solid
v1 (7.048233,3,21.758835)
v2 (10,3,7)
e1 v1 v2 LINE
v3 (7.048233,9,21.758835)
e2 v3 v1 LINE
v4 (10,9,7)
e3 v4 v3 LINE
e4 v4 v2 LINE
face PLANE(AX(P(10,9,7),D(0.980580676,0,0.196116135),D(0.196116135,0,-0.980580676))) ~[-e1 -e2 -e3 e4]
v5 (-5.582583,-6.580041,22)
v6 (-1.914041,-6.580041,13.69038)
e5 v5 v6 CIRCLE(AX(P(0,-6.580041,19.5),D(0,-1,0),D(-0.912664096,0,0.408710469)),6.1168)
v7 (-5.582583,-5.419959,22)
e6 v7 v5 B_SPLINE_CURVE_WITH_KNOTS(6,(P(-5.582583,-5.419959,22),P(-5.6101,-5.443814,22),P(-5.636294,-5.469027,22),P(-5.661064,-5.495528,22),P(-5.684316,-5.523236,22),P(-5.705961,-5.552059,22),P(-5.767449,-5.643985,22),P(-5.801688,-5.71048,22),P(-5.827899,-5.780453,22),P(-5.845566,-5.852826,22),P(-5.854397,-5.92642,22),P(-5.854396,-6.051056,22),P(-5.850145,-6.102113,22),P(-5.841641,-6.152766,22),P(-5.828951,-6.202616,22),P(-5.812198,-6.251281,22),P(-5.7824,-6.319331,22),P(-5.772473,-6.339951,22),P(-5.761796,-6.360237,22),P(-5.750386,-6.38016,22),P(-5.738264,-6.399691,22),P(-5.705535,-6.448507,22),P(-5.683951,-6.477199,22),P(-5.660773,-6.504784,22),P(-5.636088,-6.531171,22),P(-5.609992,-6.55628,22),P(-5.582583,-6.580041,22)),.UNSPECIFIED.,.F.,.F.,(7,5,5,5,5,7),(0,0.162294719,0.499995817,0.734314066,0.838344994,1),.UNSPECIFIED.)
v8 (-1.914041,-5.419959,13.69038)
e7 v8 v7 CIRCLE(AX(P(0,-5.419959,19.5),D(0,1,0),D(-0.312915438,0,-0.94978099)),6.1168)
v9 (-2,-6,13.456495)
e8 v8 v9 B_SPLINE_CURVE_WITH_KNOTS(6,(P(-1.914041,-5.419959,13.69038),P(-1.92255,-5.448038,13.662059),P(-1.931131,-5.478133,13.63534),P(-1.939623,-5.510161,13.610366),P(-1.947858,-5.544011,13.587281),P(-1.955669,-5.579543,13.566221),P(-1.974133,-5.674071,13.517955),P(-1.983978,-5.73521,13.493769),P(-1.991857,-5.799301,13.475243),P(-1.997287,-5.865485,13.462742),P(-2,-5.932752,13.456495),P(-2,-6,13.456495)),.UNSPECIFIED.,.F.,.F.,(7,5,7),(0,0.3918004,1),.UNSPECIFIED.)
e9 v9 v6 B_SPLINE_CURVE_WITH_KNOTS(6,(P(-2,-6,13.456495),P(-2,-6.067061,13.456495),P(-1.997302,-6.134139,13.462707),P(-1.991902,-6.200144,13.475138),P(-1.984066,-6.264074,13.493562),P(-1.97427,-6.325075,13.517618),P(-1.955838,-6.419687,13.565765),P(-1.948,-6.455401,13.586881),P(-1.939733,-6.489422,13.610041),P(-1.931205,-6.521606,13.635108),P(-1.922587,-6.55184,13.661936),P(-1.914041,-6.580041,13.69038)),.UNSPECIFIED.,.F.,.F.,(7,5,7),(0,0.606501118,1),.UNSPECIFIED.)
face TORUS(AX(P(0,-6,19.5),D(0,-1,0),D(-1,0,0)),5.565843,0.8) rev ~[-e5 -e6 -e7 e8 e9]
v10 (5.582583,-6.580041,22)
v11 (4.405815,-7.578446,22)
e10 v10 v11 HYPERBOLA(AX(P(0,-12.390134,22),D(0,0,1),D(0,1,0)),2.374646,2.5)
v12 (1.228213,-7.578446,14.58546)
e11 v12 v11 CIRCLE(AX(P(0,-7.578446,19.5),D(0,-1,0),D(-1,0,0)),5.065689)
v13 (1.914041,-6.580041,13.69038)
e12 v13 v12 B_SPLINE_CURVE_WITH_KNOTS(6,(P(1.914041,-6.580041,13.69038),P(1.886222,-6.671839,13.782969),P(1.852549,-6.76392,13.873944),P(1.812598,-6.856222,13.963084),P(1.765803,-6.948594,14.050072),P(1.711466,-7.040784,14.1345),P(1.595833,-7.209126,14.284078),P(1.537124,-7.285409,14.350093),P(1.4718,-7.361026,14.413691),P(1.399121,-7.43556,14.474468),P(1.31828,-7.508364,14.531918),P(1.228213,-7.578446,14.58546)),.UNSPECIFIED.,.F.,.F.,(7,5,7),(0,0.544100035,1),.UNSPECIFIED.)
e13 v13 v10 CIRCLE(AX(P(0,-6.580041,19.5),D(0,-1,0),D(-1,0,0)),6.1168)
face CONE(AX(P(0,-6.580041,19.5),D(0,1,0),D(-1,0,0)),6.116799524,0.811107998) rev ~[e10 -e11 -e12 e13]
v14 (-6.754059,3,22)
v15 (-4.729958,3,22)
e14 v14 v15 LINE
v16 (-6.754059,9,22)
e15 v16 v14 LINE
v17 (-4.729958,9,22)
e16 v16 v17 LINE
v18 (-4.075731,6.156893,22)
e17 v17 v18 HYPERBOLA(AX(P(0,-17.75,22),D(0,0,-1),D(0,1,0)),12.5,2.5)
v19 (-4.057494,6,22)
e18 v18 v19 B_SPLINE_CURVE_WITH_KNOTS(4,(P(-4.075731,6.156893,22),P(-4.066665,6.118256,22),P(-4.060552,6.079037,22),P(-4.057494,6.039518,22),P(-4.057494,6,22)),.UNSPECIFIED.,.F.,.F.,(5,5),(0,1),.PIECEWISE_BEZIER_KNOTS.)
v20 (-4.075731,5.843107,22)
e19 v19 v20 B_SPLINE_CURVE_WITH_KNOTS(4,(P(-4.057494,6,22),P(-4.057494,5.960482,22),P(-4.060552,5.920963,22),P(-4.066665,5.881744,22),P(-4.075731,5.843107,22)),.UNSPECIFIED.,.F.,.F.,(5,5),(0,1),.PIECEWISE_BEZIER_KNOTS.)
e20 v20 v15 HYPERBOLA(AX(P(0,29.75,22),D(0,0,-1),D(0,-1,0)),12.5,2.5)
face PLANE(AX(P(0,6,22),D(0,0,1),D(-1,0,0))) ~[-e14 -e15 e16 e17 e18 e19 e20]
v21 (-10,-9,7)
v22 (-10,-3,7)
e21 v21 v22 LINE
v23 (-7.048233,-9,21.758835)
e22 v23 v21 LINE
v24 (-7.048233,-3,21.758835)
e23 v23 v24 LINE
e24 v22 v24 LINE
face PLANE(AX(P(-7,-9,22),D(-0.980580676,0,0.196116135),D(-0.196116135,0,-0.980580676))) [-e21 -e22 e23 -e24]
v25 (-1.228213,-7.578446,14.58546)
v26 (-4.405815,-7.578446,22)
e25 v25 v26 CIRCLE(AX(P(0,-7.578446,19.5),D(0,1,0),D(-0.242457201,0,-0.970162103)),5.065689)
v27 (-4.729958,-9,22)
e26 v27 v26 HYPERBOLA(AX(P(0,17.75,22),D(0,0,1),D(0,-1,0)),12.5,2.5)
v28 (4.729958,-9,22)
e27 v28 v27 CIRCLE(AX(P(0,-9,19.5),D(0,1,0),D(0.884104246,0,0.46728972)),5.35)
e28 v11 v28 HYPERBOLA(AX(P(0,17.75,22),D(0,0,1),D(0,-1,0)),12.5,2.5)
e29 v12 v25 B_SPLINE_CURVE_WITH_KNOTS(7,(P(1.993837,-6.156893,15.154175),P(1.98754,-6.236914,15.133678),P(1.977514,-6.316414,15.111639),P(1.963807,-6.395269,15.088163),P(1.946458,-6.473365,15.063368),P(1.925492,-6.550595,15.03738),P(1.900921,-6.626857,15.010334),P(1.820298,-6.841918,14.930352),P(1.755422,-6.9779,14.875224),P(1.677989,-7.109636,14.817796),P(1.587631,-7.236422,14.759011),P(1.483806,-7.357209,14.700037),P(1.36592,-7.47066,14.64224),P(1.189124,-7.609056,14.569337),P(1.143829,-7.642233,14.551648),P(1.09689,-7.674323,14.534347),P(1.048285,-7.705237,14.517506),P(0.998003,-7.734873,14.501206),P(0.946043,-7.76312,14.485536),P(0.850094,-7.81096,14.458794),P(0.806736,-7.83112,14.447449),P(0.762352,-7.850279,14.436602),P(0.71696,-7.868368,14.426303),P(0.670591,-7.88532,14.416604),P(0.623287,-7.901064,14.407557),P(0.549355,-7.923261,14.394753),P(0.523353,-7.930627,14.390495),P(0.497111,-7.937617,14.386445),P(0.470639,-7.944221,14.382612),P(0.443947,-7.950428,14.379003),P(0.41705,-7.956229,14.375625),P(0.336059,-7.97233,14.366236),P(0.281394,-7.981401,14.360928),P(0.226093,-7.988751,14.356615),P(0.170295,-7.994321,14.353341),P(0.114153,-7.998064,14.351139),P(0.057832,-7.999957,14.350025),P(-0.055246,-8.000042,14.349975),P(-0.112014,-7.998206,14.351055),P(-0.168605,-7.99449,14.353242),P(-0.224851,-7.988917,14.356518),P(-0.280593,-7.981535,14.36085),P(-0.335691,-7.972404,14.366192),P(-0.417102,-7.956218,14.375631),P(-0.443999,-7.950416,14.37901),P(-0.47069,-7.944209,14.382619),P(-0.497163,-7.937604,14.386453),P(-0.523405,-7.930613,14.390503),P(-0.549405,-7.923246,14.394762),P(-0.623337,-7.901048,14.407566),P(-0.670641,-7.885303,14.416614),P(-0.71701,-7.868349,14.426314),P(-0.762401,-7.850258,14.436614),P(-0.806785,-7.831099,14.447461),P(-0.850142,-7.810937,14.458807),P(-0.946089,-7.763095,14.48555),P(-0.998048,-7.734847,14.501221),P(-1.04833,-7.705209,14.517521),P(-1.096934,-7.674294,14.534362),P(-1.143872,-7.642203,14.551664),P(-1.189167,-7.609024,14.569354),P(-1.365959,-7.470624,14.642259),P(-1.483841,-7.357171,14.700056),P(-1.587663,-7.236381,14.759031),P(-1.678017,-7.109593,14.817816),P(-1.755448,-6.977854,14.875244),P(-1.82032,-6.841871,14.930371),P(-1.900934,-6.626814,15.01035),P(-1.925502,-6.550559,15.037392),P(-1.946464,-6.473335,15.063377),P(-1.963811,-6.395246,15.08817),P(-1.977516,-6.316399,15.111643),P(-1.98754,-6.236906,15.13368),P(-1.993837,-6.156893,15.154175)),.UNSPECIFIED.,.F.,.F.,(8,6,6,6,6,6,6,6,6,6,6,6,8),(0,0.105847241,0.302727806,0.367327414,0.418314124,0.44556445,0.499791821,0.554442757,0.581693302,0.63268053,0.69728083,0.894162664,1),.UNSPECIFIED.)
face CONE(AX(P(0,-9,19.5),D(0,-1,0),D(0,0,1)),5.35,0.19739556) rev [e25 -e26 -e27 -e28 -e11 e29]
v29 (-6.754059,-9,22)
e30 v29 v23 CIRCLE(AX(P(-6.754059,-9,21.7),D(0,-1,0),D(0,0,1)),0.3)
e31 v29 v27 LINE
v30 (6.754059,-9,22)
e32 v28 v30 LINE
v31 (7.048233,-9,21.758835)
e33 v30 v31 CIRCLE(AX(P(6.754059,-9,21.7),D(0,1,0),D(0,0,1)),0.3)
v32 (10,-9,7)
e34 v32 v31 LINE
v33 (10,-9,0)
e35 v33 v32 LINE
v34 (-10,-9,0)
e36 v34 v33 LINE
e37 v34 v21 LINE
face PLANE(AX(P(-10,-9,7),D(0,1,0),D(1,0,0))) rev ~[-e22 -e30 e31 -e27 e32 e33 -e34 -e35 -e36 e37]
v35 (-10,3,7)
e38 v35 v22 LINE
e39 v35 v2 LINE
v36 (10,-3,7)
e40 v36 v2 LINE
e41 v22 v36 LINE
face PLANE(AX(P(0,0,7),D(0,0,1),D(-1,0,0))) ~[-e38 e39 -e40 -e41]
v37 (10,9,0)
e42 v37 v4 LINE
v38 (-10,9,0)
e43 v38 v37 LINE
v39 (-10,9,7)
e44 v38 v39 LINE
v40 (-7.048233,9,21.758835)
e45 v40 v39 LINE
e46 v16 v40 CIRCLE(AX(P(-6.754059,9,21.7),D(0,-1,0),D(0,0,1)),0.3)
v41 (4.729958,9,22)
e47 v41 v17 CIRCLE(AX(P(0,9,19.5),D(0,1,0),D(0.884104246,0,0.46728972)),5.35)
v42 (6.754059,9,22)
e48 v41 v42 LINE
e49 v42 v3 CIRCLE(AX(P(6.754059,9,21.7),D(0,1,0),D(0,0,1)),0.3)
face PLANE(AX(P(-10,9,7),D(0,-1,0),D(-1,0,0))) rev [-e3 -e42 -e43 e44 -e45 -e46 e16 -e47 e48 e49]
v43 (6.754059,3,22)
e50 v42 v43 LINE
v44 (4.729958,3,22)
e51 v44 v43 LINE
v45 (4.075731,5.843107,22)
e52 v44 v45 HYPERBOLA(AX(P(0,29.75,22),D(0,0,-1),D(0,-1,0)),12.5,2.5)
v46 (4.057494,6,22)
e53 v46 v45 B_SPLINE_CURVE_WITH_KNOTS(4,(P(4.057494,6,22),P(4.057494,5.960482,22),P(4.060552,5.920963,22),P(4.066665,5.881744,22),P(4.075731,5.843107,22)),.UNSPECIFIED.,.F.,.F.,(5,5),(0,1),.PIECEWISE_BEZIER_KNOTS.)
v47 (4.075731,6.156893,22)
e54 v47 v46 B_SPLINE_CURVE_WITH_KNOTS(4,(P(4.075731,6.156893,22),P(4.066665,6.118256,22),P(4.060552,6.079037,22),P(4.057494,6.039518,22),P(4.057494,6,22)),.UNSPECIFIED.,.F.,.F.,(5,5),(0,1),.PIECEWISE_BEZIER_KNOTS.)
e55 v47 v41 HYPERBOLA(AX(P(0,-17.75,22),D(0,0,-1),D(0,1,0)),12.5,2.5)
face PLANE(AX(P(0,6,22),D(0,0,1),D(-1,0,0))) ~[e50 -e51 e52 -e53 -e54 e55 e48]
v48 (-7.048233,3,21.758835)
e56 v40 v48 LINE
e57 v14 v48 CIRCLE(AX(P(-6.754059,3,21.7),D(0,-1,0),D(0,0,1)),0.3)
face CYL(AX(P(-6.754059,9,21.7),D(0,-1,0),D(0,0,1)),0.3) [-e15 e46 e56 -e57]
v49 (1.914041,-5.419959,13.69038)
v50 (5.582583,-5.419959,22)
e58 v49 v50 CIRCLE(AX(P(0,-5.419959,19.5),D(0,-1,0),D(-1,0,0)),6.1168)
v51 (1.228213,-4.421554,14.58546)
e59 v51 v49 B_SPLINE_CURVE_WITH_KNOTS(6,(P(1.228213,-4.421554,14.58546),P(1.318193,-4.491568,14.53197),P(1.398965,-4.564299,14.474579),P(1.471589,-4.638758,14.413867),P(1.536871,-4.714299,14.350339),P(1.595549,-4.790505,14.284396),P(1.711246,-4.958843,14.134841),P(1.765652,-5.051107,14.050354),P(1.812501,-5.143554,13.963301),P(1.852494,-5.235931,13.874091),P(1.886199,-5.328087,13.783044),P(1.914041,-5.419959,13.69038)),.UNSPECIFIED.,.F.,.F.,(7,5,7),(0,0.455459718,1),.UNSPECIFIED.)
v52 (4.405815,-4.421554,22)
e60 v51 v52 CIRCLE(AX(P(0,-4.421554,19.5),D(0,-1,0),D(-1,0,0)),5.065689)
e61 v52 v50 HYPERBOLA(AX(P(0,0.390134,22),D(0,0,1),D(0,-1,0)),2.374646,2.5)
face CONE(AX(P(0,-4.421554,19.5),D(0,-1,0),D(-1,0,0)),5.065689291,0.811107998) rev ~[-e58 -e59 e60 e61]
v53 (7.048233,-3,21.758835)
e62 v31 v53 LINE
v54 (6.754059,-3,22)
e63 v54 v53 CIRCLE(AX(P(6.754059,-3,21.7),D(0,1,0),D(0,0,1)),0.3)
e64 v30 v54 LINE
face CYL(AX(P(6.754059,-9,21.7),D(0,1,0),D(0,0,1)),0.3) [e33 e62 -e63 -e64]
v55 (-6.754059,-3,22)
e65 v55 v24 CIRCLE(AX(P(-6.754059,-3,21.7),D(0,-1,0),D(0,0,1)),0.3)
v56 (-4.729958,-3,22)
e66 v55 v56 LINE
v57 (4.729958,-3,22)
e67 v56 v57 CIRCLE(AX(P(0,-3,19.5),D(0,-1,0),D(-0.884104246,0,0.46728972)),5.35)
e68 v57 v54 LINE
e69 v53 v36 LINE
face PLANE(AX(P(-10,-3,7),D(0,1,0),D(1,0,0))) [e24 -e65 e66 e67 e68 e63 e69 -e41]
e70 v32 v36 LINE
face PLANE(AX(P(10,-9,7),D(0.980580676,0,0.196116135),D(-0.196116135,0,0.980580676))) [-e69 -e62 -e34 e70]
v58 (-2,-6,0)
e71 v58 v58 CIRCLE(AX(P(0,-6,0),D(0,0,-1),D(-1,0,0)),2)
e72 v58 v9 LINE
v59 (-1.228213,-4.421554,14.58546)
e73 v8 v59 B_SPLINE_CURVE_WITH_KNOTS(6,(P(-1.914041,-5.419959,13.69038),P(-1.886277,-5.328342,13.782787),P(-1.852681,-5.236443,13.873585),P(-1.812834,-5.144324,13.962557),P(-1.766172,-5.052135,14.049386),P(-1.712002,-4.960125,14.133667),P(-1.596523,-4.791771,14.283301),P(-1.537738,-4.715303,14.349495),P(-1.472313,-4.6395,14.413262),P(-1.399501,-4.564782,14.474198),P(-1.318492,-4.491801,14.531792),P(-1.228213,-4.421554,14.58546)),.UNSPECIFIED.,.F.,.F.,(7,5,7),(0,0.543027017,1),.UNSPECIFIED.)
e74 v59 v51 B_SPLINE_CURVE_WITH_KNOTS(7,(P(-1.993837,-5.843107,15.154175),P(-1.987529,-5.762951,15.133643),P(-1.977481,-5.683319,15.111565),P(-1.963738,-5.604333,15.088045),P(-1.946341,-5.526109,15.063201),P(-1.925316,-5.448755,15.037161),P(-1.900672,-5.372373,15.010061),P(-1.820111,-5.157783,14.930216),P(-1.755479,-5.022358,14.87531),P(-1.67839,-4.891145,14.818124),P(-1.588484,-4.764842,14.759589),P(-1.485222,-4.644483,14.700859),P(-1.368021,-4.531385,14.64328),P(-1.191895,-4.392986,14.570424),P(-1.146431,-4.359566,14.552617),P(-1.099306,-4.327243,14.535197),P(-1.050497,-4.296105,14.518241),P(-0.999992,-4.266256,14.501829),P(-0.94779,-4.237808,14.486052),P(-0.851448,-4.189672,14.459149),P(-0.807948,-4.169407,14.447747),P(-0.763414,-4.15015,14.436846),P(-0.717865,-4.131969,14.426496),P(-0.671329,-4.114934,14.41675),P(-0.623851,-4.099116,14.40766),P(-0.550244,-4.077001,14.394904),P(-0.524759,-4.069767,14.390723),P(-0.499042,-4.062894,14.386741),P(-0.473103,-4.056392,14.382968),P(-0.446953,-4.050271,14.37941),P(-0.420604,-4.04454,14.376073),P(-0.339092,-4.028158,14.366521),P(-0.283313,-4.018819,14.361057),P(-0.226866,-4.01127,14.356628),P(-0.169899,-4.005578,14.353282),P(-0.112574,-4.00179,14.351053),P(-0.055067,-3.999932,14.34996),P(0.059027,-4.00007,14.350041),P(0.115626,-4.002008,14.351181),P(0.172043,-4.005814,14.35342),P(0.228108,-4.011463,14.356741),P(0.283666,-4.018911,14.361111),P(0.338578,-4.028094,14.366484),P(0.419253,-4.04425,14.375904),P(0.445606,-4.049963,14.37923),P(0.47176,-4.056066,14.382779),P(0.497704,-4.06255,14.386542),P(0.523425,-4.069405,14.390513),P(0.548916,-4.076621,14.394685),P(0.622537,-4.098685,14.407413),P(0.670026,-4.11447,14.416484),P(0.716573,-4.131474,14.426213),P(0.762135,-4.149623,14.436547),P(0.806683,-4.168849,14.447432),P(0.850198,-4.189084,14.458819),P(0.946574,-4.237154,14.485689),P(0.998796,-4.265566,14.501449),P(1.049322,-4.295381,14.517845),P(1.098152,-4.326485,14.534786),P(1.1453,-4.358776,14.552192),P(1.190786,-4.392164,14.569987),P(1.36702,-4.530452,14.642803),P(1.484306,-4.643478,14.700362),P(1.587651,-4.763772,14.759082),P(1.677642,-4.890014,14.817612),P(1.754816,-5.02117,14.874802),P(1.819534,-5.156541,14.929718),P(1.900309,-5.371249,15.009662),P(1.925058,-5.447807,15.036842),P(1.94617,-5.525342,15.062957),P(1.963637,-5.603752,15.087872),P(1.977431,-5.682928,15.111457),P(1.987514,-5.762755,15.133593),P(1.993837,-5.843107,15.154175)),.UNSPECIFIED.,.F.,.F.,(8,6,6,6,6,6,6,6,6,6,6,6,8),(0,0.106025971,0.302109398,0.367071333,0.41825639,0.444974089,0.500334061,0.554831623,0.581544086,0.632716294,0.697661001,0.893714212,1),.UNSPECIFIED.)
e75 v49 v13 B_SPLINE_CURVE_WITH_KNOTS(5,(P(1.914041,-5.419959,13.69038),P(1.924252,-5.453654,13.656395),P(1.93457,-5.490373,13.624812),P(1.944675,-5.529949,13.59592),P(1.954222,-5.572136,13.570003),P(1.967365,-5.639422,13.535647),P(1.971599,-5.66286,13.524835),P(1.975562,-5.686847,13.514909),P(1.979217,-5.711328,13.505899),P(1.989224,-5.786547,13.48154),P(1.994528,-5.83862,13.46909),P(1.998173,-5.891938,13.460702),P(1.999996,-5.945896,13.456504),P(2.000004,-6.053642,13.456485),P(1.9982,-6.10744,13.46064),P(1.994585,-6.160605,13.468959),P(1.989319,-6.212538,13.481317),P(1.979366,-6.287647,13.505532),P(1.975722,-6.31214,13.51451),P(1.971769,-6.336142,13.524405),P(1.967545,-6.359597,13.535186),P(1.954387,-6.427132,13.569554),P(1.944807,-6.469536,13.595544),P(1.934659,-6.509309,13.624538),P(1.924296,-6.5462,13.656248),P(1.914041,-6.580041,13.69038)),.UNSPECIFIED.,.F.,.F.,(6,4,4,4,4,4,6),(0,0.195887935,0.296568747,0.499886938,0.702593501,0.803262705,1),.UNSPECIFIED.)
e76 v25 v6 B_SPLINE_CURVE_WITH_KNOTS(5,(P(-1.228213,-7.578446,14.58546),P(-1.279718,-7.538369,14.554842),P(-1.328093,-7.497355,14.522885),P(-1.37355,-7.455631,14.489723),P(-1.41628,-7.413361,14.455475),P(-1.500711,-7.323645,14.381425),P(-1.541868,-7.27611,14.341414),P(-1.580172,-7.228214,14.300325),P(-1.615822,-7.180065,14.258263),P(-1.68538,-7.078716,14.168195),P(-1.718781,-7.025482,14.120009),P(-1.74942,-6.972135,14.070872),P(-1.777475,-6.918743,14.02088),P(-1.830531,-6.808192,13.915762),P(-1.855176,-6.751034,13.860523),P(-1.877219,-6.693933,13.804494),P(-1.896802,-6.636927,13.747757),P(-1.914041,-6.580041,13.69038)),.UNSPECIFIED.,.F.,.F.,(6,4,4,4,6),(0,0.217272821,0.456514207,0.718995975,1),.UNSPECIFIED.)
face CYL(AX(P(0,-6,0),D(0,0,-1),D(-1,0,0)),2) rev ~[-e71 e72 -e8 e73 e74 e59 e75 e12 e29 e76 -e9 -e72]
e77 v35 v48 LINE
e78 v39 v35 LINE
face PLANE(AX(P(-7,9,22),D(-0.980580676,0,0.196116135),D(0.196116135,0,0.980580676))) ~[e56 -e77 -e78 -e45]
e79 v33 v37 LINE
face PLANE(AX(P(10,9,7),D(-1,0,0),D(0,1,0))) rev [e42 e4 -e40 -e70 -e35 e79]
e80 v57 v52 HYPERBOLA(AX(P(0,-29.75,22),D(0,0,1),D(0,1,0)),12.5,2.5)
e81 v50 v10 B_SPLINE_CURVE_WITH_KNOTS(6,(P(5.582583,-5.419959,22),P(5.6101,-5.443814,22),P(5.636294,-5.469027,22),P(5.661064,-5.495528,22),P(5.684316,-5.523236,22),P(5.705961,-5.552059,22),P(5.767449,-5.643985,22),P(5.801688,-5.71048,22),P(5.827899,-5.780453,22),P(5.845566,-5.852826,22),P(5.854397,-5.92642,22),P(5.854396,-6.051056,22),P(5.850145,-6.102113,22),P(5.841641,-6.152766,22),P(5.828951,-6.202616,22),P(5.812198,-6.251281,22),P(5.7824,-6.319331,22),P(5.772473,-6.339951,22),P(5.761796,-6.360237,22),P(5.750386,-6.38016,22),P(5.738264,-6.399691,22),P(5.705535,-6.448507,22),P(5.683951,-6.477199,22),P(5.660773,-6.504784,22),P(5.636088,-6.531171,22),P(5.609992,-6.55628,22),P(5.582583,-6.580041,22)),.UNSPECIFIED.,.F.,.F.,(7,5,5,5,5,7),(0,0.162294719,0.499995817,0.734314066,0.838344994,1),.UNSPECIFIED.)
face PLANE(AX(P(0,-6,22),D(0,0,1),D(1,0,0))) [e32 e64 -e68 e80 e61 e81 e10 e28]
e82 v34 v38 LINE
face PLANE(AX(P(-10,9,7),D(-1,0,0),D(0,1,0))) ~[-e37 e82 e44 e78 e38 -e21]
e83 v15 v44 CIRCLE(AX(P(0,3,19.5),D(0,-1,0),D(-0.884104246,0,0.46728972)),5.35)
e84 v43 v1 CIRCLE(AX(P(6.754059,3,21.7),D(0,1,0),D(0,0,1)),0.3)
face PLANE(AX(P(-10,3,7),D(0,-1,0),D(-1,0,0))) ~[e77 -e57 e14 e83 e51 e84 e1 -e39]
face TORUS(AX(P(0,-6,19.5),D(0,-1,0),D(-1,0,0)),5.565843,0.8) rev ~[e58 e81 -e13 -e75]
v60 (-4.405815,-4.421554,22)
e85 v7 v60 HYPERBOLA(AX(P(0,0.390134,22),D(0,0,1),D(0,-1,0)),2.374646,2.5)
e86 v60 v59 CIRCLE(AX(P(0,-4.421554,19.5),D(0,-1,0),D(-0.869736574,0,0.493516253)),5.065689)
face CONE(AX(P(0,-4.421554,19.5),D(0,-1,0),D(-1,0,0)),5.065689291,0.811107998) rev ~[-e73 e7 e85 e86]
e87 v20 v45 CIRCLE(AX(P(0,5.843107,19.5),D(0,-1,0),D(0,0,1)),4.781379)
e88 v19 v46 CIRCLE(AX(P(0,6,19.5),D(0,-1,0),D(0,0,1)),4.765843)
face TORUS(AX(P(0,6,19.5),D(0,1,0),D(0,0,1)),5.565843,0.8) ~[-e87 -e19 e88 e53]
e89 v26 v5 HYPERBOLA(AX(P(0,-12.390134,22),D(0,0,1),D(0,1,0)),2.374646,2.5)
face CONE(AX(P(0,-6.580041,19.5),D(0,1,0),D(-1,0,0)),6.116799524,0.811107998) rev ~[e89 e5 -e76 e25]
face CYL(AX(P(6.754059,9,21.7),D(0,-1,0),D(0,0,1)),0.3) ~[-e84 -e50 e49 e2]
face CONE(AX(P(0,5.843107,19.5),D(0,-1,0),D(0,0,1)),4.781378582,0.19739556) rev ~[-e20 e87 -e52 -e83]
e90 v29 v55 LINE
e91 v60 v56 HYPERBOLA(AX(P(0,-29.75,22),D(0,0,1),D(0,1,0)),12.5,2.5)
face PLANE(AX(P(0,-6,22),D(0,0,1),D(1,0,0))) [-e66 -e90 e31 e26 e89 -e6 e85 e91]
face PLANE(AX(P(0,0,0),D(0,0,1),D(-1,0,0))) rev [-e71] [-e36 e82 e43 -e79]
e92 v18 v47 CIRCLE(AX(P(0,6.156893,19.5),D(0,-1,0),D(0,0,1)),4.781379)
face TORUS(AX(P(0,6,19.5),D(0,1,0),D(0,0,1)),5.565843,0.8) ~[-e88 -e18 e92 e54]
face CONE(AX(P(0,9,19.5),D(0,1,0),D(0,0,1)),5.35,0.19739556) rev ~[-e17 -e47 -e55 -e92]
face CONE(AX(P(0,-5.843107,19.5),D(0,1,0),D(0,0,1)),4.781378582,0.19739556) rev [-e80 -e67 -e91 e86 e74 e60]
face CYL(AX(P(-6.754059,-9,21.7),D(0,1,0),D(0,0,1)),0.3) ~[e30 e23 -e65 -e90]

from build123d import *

# Parameters (mm, degrees)
SKETCH1_W               = 20
SKETCH1_H               = 18
BOSS_EXTRUDE1_DEPTH     = 7
SKETCH2_W               = 20
SKETCH2_H               = 6
BOSS_EXTRUDE2_DEPTH     = 15
CUT_EXTRUDE1_REACH      = 32.133
SKETCH3_R               = 5.35
SKETCH5_W               = 14
SKETCH5_H               = 6
CUT_EXTRUDE2_DEPTH      = 26.787593916
FILLET1_R               = 0.3
SKETCH6_W               = 20
SKETCH6_H               = 9
CUT_EXTRUDE3_DEPTH      = 21.149441799
CUT_EXTRUDE3_DEPTH_BACK = 21.149441799
SKETCH7_R               = 2
CUT_EXTRUDE4_DEPTH      = 26.787594037
CUT_EXTRUDE4_DEPTH_BACK = 26.787594037


with BuildPart() as part:
    # Sketch1 → Boss-Extrude1 (new body)
    with BuildSketch(Plane.XY):
        Rectangle(SKETCH1_W, SKETCH1_H)
    extrude(amount=BOSS_EXTRUDE1_DEPTH)

    # Sketch2 → Boss-Extrude2 (add)
    with BuildSketch(Plane.XY.offset(7)):
        with Locations((0, -6)):
            Rectangle(SKETCH2_W, SKETCH2_H)
        with Locations((0, 6)):
            Rectangle(SKETCH2_W, SKETCH2_H)
    extrude(amount=BOSS_EXTRUDE2_DEPTH)

    # Cut-Extrude1: up to this face of the body (flat: up to its plane)
    cut_extrude1_end = Plane(part.part.faces().sort_by_distance((0, 9, 11))[0])
    # Sketch3 → Cut-Extrude1 (cut, up to the picked face)
    with BuildSketch(Plane.XZ.offset(9), mode=Mode.PRIVATE) as cut_extrude1_sk1:
        with Locations((0, 19.5)):
            Circle(SKETCH3_R)
    cut_extrude1_tool1 = split(extrude(cut_extrude1_sk1.sketch, amount=-CUT_EXTRUDE1_REACH, mode=Mode.PRIVATE), bisect_by=cut_extrude1_end, keep=Keep.BOTH, mode=Mode.PRIVATE)
    # Sketch3 → Cut-Extrude1 (cut, up to the picked face)
    with BuildSketch(Plane.XZ.offset(9), mode=Mode.PRIVATE) as cut_extrude1_sk2:
        Polygon((-7, 22), (-10, 7), (-10, 22), align=None)
    cut_extrude1_tool2 = split(extrude(cut_extrude1_sk2.sketch, amount=-CUT_EXTRUDE1_REACH, mode=Mode.PRIVATE), bisect_by=cut_extrude1_end, keep=Keep.BOTH, mode=Mode.PRIVATE)
    # Sketch3 → Cut-Extrude1 (cut, up to the picked face)
    with BuildSketch(Plane.XZ.offset(9), mode=Mode.PRIVATE) as cut_extrude1_sk3:
        Polygon((7, 22), (10, 22), (10, 7), align=None)
    cut_extrude1_tool3 = split(extrude(cut_extrude1_sk3.sketch, amount=-CUT_EXTRUDE1_REACH, mode=Mode.PRIVATE), bisect_by=cut_extrude1_end, keep=Keep.BOTH, mode=Mode.PRIVATE)
    add(cut_extrude1_tool1.solids().sort_by(Axis((0, -9, 19.5), (0, 1, 0)))[0], mode=Mode.SUBTRACT)
    add(cut_extrude1_tool2.solids().sort_by(Axis((-9, -9, 17), (0, 1, 0)))[0], mode=Mode.SUBTRACT)
    add(cut_extrude1_tool3.solids().sort_by(Axis((9, -9, 17), (0, 1, 0)))[0], mode=Mode.SUBTRACT)

    # Sketch4 → Revolve4 (revolve)
    with BuildSketch(Plane.XY.offset(19.5), mode=Mode.PRIVATE) as revolve4_sk:
        with BuildLine():
            Line((-4.781378582, -5.843107092), (-5.35, -3))
            Line((-5.35, -3), (-5.35, -6))
            Line((-5.35, -6), (-4.765843122, -6))
            ThreePointArc((-4.765843122, -6), (-4.769736461, -5.921169906), (-4.781378582, -5.843107092))
        make_face()
        with BuildLine():
            Line((-4.765843122, -6), (-5.35, -6))
            Line((-5.35, -6), (-5.35, -9))
            Line((-5.35, -9), (-4.781378582, -6.156892908))
            ThreePointArc((-4.781378582, -6.156892908), (-4.769736461, -6.078830094), (-4.765843122, -6))
        make_face()
    revolve(revolve4_sk.sketch.rotate(Axis((0, -3, 19.5), (0, -1, 0)), 270), axis=Axis((0, -3, 19.5), (0, -1, 0)))

    # Sketch5 → Cut-Extrude2 (cut, through all)
    with BuildSketch(Plane.XY.offset(22)):
        with Locations((0, -6)):
            Rectangle(SKETCH5_W, SKETCH5_H)
    extrude(amount=CUT_EXTRUDE2_DEPTH, mode=Mode.SUBTRACT)

    # Fillet1
    fillet1_edges = [part.edges().sort_by_distance(p)[0] for p in [
        (7, -6, 22),
        (-7, -6, 22),
        (-7, 6, 22),
        (7, 6, 22),
        (-4.729957717, 6, 22),
        (4.729957717, 6, 22),
    ]]
    fillet(fillet1_edges, radius=FILLET1_R)

    # Sketch6 → Cut-Extrude3 (cut, two sides)
    with BuildSketch(Plane.XY.offset(7)) as cut_extrude3_sk:
        with Locations((0, 4.5)):
            Rectangle(SKETCH6_W, SKETCH6_H)
    extrude(amount=CUT_EXTRUDE3_DEPTH, mode=Mode.SUBTRACT)
    extrude(cut_extrude3_sk.sketch, amount=-CUT_EXTRUDE3_DEPTH_BACK, mode=Mode.SUBTRACT)

    # Mirror2: part across plane


with BuildPart() as part_1:
    add(part.part)
    add(part.part.mirror(Plane(origin=(-10, 0, 0), x_dir=(0, 0, 1), z_dir=(0, -1, 0))))

    # Sketch7 → Cut-Extrude4 (cut, two sides)
    with BuildSketch(Plane(origin=(0, 0, 0), x_dir=(-1, 0, 0), z_dir=(0, 0, -1))) as cut_extrude4_sk:
        with Locations((0, -6)):
            Circle(SKETCH7_R)
    extrude(amount=CUT_EXTRUDE4_DEPTH, mode=Mode.SUBTRACT)
    extrude(cut_extrude4_sk.sketch, amount=-CUT_EXTRUDE4_DEPTH_BACK, mode=Mode.SUBTRACT)

    # Sketch8 → Cut-Revolve1 (revolve, cut)
    with BuildSketch(Plane.XY.offset(19.5)):
        with BuildLine():
            Line((-6.116799524, -6.580040554), (-5.065689291, -7.578446454))
            Line((-5.065689291, -7.578446454), (-4.781378582, -6.156892908))
            ThreePointArc((-4.781378582, -6.156892908), (-4.765843122, -6), (-4.781378582, -5.843107092))
            Line((-4.781378582, -5.843107092), (-5.065689291, -4.421553546))
            Line((-5.065689291, -4.421553546), (-6.116799524, -5.419959446))
            ThreePointArc((-6.116799524, -5.419959446), (-6.365843122, -6), (-6.116799524, -6.580040554))
        make_face()
    revolve(axis=Axis((0, -3, 19.5), (0, -1, 0)), mode=Mode.SUBTRACT)


solid = part_1.part
